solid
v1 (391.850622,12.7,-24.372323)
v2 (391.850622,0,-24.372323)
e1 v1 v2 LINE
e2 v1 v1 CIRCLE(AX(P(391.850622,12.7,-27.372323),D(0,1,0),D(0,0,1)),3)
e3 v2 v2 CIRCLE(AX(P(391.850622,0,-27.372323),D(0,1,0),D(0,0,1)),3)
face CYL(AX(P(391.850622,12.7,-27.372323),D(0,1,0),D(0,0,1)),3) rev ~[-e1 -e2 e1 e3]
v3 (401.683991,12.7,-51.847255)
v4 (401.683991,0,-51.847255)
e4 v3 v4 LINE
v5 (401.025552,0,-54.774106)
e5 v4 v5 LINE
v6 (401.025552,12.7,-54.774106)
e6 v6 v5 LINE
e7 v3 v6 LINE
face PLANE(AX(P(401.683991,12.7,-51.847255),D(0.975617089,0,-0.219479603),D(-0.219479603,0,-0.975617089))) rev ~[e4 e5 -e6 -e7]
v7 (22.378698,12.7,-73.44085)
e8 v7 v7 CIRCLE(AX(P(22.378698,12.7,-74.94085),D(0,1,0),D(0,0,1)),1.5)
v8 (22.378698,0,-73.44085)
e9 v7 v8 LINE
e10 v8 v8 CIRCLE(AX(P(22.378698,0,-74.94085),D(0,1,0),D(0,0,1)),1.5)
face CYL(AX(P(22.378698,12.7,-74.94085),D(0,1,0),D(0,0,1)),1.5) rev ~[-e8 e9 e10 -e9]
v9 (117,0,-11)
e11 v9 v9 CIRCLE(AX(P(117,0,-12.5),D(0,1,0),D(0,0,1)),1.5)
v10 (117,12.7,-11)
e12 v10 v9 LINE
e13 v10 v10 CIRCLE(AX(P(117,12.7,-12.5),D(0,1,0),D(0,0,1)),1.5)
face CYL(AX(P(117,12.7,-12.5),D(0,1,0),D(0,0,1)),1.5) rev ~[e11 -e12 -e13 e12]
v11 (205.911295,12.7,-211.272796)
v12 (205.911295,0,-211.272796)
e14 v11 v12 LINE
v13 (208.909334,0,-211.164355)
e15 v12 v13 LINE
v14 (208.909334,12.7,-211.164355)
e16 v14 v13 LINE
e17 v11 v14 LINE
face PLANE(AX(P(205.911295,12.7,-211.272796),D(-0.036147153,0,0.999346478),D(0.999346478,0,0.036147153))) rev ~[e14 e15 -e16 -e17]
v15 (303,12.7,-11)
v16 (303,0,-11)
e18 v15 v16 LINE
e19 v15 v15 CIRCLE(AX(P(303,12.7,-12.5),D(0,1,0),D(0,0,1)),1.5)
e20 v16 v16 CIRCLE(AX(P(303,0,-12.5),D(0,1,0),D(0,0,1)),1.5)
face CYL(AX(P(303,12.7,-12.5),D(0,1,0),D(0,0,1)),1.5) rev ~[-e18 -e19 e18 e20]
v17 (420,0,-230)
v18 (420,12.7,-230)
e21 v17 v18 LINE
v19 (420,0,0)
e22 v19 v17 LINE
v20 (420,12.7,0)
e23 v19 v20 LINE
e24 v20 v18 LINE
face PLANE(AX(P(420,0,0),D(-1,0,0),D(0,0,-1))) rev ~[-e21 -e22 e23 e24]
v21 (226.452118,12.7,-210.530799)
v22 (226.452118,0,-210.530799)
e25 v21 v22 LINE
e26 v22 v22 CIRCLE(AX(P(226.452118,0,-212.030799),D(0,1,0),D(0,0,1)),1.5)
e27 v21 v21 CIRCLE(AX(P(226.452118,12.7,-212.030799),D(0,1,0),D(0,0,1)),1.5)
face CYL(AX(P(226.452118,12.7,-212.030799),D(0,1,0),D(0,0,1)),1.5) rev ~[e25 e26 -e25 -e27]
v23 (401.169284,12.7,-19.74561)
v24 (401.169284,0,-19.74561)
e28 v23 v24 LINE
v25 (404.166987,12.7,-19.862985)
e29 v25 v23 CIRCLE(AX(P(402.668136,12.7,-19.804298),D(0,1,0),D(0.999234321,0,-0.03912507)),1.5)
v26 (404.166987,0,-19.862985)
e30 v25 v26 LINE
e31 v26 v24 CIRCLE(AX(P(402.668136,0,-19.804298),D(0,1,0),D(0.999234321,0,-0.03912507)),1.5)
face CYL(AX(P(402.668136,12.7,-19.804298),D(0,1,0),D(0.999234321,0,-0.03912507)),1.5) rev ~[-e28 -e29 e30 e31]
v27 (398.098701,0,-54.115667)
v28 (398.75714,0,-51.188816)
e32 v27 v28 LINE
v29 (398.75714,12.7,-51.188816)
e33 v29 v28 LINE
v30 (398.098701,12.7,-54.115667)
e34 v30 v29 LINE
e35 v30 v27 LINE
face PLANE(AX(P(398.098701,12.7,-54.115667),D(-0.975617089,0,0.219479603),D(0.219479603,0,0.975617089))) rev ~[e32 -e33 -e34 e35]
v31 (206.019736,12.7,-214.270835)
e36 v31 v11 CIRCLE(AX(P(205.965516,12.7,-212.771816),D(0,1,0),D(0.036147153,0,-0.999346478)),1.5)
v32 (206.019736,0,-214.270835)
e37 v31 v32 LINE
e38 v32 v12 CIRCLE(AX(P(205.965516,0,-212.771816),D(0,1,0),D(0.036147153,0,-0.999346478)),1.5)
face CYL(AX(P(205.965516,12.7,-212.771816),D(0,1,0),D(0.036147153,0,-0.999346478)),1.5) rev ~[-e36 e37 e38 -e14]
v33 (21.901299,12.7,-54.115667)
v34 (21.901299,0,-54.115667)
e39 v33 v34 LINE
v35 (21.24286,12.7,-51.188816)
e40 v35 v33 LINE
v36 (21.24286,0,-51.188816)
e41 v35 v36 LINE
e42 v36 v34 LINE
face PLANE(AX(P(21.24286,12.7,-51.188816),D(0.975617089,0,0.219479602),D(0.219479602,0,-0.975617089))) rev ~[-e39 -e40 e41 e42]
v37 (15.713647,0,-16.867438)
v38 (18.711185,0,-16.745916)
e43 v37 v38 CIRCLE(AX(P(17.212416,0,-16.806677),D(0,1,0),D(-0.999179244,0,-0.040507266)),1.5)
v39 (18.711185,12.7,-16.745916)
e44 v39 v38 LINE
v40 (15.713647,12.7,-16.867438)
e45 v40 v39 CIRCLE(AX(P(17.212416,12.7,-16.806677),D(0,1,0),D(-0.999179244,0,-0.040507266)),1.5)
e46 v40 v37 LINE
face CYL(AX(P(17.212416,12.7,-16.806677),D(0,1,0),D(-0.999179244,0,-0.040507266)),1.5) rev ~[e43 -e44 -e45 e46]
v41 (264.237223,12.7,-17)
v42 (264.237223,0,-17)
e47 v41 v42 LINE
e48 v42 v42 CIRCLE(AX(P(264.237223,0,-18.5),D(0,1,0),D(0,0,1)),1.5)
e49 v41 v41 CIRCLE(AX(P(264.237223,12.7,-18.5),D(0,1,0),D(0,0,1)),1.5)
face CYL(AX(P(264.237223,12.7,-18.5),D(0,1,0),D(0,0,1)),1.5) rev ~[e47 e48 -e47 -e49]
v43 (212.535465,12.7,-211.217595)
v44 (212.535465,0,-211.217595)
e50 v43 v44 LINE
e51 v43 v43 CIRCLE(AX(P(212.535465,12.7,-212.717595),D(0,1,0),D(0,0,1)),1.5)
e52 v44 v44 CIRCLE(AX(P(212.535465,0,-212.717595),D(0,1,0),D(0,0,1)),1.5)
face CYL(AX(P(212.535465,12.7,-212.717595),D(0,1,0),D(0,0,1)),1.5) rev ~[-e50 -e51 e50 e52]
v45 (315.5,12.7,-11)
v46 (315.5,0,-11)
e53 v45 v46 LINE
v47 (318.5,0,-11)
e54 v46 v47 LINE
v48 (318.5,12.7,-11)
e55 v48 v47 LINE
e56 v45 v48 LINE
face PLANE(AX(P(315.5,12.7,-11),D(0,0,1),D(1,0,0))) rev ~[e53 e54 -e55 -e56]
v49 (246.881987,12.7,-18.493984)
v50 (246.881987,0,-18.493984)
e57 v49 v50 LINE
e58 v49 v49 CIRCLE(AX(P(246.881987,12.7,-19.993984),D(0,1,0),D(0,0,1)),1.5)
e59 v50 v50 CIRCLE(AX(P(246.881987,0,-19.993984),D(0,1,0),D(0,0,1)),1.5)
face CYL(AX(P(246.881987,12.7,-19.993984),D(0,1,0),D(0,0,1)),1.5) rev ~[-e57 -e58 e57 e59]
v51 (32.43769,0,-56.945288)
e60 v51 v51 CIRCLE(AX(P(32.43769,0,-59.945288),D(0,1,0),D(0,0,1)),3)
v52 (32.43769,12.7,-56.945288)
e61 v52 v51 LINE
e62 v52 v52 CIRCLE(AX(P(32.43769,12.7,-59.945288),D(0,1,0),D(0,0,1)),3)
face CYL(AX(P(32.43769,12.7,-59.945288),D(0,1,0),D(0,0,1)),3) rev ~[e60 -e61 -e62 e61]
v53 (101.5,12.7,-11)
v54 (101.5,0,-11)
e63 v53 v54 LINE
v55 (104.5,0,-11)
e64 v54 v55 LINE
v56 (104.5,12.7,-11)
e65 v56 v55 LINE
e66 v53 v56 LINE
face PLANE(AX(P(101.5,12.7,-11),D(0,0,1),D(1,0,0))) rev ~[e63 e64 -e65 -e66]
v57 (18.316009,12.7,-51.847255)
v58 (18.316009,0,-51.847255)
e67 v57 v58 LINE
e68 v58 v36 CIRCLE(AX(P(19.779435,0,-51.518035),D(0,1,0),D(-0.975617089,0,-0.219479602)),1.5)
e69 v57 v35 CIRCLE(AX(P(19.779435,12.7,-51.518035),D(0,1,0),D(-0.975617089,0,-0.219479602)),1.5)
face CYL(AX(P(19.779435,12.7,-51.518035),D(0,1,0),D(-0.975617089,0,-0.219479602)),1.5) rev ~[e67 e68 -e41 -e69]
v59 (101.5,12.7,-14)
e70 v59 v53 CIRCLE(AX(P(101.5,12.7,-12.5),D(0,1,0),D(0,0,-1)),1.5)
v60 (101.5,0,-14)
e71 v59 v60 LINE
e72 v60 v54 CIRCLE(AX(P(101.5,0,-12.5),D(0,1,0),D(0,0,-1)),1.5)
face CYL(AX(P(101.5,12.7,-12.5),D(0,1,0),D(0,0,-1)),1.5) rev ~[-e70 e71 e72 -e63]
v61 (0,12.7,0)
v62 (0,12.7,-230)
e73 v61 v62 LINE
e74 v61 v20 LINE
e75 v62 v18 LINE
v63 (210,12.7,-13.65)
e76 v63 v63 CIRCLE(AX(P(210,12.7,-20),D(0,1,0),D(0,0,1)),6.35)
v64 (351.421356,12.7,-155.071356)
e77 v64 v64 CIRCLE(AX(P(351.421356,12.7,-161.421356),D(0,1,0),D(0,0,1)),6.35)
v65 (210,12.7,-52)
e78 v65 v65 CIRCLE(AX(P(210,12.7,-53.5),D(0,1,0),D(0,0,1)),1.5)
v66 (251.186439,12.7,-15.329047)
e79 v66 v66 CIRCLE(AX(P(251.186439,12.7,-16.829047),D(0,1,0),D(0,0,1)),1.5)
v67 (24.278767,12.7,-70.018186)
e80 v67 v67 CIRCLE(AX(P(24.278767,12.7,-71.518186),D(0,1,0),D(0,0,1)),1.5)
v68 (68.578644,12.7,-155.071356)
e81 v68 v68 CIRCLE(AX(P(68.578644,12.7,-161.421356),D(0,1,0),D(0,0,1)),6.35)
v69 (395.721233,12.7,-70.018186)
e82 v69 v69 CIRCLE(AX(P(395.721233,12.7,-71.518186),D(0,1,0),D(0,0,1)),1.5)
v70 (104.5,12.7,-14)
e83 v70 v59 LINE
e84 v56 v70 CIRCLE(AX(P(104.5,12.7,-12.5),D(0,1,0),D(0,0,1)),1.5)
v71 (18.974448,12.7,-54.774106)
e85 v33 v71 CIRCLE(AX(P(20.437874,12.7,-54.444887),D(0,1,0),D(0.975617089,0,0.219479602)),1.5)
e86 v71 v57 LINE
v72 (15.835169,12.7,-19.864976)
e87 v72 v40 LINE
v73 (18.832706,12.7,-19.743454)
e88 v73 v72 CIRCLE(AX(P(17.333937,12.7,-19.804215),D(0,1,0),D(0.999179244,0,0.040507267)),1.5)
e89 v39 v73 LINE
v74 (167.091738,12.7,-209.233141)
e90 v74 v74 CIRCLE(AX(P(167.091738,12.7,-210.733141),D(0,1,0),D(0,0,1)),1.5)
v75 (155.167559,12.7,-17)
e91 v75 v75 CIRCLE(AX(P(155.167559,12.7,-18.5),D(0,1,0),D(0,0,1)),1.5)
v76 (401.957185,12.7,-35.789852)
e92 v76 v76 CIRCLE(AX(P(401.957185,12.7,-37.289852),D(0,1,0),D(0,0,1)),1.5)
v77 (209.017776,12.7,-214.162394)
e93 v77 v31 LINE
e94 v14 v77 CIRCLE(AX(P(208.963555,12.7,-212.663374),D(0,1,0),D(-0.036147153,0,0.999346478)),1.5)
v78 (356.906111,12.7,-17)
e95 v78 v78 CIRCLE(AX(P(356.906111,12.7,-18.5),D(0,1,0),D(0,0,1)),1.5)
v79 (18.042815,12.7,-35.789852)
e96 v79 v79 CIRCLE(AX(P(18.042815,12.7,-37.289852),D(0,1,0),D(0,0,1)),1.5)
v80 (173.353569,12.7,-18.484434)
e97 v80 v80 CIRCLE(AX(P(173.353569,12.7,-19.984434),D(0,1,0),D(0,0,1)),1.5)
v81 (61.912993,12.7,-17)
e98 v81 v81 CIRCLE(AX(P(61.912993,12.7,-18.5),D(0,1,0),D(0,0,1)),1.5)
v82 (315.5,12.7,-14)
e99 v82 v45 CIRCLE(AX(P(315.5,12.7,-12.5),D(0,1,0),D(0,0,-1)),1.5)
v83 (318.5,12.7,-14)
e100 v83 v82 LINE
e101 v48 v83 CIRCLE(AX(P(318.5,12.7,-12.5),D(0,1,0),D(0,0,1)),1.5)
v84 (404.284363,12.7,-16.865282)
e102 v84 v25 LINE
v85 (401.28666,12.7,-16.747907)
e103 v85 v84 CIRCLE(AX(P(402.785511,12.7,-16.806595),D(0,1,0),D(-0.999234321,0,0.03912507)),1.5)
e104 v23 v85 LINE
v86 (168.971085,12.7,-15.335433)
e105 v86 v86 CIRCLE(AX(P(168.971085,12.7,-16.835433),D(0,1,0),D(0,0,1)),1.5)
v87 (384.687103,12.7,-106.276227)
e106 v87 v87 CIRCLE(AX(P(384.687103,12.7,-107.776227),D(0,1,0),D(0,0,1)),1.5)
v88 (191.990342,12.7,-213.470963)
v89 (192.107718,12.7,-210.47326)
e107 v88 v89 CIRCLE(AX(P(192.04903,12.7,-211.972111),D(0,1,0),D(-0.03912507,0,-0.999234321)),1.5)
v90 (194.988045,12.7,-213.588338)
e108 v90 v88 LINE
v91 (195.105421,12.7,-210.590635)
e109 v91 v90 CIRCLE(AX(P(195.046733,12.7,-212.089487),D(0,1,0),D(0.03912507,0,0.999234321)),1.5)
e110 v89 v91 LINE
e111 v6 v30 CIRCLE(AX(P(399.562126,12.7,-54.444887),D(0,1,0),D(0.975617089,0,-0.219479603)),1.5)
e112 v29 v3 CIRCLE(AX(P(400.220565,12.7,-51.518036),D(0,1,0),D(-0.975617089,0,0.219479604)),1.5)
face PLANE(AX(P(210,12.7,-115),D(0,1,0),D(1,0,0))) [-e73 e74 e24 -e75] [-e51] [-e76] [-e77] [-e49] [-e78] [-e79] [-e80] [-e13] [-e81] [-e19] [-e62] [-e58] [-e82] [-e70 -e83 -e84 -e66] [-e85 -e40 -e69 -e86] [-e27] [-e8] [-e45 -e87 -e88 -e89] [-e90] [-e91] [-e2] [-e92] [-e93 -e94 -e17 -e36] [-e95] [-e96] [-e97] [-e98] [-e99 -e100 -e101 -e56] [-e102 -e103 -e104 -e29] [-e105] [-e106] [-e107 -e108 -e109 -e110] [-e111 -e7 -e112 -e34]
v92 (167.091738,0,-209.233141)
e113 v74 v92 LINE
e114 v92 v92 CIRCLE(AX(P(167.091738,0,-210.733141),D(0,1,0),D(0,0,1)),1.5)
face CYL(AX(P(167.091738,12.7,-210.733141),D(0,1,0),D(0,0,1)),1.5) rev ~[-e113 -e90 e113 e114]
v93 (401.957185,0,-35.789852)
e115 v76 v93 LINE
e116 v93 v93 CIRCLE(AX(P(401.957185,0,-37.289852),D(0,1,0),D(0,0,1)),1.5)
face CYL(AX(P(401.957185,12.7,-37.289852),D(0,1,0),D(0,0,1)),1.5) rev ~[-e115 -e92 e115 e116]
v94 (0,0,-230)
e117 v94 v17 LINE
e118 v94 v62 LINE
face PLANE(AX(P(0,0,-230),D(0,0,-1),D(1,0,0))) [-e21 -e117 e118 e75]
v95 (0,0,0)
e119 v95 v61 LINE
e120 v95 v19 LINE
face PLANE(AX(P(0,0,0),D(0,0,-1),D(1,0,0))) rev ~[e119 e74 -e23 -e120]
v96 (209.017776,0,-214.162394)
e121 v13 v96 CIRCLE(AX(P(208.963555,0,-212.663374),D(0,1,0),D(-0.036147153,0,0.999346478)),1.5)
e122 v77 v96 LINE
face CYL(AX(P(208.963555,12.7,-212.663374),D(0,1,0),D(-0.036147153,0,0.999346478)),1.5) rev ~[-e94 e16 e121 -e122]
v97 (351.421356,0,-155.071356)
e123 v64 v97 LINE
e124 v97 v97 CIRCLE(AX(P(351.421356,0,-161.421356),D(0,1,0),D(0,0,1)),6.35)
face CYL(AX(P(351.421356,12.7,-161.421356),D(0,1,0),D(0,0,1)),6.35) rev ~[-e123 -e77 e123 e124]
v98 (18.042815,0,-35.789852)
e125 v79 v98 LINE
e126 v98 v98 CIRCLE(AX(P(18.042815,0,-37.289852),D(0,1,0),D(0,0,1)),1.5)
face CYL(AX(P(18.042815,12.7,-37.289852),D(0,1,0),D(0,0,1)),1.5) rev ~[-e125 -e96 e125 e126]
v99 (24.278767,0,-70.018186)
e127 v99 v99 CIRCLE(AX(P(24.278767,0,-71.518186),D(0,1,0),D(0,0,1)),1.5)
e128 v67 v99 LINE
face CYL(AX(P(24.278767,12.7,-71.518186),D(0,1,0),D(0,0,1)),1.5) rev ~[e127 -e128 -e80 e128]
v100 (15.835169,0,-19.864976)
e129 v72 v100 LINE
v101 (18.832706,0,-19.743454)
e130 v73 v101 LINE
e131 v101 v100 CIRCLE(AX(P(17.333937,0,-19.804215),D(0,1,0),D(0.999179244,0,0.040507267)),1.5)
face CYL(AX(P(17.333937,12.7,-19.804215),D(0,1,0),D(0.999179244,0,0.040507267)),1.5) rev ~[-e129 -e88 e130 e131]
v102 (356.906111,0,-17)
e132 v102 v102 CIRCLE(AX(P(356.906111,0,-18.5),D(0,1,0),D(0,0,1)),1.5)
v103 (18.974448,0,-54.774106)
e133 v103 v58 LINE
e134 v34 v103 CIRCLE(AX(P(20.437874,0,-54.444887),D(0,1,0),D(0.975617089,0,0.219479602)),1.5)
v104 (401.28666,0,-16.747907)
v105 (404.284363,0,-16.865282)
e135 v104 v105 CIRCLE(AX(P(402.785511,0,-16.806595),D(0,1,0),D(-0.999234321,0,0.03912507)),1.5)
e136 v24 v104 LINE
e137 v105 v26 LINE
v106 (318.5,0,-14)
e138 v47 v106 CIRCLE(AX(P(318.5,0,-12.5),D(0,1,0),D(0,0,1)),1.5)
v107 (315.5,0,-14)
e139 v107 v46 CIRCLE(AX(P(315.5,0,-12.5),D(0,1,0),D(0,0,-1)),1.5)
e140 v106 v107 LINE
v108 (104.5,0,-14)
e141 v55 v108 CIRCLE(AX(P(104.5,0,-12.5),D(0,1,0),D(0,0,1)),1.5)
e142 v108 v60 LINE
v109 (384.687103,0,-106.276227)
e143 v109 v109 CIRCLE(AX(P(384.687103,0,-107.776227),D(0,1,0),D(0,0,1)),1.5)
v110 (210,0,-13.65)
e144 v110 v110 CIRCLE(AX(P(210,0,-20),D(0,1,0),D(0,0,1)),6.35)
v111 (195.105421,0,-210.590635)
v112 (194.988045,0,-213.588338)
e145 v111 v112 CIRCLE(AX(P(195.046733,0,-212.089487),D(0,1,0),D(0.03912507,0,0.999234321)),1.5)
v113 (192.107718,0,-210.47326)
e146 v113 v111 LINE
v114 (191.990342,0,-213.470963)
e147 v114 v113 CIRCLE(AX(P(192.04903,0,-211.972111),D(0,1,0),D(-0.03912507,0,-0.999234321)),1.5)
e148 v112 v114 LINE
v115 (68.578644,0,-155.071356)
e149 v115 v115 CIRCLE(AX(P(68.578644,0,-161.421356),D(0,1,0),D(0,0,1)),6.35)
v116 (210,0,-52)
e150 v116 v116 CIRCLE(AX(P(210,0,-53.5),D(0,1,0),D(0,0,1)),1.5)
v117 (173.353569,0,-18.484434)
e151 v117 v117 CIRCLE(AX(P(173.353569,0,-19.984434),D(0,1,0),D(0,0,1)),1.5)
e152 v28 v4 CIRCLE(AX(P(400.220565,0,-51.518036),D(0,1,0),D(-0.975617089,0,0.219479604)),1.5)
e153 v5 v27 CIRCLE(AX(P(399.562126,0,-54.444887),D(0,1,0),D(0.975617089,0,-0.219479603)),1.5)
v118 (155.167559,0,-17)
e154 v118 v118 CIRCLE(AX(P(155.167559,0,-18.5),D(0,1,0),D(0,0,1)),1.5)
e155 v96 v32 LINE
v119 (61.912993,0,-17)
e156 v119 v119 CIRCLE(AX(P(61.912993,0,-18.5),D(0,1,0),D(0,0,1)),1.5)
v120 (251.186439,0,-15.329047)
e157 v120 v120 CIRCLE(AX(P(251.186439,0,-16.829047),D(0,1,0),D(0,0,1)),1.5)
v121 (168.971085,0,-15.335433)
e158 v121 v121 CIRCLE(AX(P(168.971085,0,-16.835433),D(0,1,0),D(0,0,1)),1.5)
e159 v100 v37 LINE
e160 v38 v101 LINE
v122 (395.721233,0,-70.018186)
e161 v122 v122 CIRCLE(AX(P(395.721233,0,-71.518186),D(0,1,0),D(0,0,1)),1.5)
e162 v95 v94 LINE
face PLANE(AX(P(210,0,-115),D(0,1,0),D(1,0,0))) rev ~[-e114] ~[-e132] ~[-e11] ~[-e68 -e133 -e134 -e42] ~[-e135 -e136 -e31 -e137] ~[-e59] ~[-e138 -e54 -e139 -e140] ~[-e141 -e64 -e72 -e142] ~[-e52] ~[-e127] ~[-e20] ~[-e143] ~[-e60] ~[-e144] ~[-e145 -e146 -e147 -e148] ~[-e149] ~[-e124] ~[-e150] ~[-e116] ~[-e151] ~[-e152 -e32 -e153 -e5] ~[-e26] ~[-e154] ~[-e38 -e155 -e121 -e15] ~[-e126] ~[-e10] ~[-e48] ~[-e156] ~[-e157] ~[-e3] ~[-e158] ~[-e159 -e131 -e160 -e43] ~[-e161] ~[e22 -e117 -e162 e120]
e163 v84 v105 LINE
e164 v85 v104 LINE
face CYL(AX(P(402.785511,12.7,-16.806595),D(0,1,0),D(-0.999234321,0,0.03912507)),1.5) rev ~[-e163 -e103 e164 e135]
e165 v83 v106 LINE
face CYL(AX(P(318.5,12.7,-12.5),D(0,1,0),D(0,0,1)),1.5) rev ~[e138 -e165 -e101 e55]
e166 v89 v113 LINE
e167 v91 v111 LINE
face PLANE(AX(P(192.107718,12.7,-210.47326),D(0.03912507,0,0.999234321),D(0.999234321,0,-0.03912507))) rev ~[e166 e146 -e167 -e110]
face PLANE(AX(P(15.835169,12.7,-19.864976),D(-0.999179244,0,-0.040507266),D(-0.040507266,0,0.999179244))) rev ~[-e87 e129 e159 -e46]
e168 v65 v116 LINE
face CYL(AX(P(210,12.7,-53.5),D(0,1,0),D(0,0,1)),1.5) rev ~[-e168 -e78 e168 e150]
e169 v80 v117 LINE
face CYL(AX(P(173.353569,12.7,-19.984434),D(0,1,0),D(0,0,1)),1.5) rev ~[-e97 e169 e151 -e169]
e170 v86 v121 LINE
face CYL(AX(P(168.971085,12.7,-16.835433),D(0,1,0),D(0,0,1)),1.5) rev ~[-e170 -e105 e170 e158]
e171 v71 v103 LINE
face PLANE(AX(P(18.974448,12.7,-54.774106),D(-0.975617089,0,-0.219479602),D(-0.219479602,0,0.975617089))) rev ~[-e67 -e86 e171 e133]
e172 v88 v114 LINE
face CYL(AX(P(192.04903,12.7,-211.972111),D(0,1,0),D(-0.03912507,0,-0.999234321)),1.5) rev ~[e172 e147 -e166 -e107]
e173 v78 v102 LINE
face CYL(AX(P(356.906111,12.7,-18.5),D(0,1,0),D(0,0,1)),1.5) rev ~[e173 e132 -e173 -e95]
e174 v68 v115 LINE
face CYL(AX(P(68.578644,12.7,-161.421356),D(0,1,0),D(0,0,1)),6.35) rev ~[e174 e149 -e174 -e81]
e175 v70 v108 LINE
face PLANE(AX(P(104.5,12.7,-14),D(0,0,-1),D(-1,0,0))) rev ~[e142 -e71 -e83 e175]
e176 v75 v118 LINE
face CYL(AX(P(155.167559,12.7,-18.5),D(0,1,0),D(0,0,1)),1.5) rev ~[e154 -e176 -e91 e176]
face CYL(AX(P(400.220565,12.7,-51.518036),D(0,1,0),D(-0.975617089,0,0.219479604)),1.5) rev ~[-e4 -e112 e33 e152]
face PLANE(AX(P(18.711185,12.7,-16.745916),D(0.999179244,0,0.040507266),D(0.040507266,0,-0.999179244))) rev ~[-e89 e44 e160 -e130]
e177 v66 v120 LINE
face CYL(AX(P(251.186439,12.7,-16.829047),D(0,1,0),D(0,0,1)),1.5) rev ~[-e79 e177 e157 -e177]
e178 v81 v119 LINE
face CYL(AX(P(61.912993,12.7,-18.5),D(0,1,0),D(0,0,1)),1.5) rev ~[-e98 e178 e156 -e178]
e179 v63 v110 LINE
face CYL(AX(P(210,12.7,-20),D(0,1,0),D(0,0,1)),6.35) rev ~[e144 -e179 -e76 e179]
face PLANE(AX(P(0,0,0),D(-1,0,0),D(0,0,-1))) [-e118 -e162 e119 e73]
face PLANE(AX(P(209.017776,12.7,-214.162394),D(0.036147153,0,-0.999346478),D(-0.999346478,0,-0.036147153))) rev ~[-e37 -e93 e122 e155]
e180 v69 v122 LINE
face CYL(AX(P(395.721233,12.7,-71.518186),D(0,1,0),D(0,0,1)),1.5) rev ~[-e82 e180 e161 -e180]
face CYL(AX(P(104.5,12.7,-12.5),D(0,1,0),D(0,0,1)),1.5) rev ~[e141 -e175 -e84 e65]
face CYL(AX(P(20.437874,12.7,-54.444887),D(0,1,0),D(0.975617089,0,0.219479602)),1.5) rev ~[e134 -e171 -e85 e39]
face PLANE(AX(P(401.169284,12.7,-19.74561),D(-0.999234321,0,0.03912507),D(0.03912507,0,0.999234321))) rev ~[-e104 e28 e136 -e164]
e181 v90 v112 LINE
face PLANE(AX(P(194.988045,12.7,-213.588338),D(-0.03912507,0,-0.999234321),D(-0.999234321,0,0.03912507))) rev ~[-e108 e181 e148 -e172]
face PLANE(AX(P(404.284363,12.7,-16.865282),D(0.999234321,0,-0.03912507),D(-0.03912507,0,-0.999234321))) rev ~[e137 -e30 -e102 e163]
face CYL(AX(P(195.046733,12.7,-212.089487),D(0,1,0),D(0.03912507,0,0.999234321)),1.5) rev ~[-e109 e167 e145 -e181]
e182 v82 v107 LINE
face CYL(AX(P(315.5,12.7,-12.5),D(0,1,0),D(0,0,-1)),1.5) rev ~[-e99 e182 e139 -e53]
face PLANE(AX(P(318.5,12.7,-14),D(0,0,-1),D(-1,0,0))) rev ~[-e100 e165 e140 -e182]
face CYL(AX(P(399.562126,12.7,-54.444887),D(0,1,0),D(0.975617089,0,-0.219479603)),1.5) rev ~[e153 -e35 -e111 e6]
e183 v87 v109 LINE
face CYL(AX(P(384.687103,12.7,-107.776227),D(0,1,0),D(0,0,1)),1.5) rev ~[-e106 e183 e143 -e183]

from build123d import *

# Parameters (mm, degrees)
SKETCH1_W           = 420
SKETCH1_H           = 230
BOSS_EXTRUDE1_DEPTH = 12.7
SKETCH7_R           = 6.35
SKETCH7_R_2         = 1.5
SKETCH7_R_3         = 3
CUT_EXTRUDE1_DEPTH  = 12.7


with BuildPart() as part:
    # Sketch1 → Boss-Extrude1 (new body)
    with BuildSketch(Plane(origin=(0, 0, 0), x_dir=(1, 0, 0), z_dir=(0, 1, 0))):
        with Locations((210, 115)):
            Rectangle(SKETCH1_W, SKETCH1_H)
    extrude(amount=BOSS_EXTRUDE1_DEPTH)

    # Sketch7 → Cut-Extrude1 (cut)
    with BuildSketch(Plane(origin=(196.460458651, 12.7, -62.603037437), x_dir=(0.090258341, 0, 0.995918386), z_dir=(0, 1, 0))):
        with BuildLine():
            Line((62.136725244, 113.896063379), (62.407500266, 116.883818538))
            ThreePointArc((62.407500266, 116.883818538), (61.049010198, 118.513083628), (59.419745108, 117.15459356))
            Line((59.419745108, 117.15459356), (59.148970086, 114.166838401))
            ThreePointArc((59.148970086, 114.166838401), (60.507460154, 112.537573311), (62.136725244, 113.896063379))
        make_face()
        with BuildLine():
            Line((40.104460202, -95.971941083), (39.83368518, -98.959696242))
            ThreePointArc((39.83368518, -98.959696242), (41.192175248, -100.588961332), (42.821440338, -99.230471264))
            Line((42.821440338, -99.230471264), (43.09221536, -96.242716105))
            ThreePointArc((43.09221536, -96.242716105), (41.733725292, -94.613451015), (40.104460202, -95.971941083))
        make_face()
        with BuildLine():
            Line((26.652261004, 200.049176763), (29.626595588, 200.44075534))
            ThreePointArc((29.626595588, 200.44075534), (30.917973591, 202.12371192), (29.235017011, 203.415089924))
            Line((29.235017011, 203.415089924), (26.260682427, 203.023511347))
            ThreePointArc((26.260682427, 203.023511347), (24.969304423, 201.340554767), (26.652261004, 200.049176763))
        make_face()
        with BuildLine():
            Line((-149.807347164, 26.185559118), (-150.185944072, 23.209544269))
            ThreePointArc((-150.185944072, 23.209544269), (-148.887235101, 21.532238391), (-147.209929223, 22.830947362))
            Line((-147.209929223, 22.830947362), (-146.831332315, 25.806962211))
            ThreePointArc((-146.831332315, 25.806962211), (-148.130041286, 27.484268089), (-149.807347164, 26.185559118))
        make_face()
        with BuildLine():
            Line((26.260682427, -183.745513941), (29.235017011, -184.137092518))
            ThreePointArc((29.235017011, -184.137092518), (30.917973591, -182.845714514), (29.626595588, -181.162757934))
            Line((29.626595588, -181.162757934), (26.652261004, -180.771179357))
            ThreePointArc((26.652261004, -180.771179357), (24.969304423, -182.062557361), (26.260682427, -183.745513941))
        make_face()
        with BuildLine():
            Line((61.159179013, 200.00504307), (64.155240602, 199.851371503))
            ThreePointArc((64.155240602, 199.851371503), (65.73010718, 201.272566515), (64.308912169, 202.847433093))
            Line((64.308912169, 202.847433093), (61.312850579, 203.001104659))
            ThreePointArc((61.312850579, 203.001104659), (59.737984001, 201.579909648), (61.159179013, 200.00504307))
        make_face()
        with BuildLine():
            Line((-150.501934623, 12.161279271), (-150.655606189, 9.165217681))
            ThreePointArc((-150.655606189, 9.165217681), (-149.234411177, 7.590351103), (-147.659544599, 9.011546115))
            Line((-147.659544599, 9.011546115), (-147.505873033, 12.007607705))
            ThreePointArc((-147.505873033, 12.007607705), (-148.927068045, 13.582474283), (-150.501934623, 12.161279271))
        make_face()
        with BuildLine():
            Line((-8.222616285, -177.468207688), (-5.367140889, -178.388131742))
            ThreePointArc((-5.367140889, -178.388131742), (-3.479441164, -177.420356071), (-4.447216835, -175.532656346))
            Line((-4.447216835, -175.532656346), (-7.302692231, -174.612732292))
            ThreePointArc((-7.302692231, -174.612732292), (-9.190391955, -175.580507963), (-8.222616285, -177.468207688))
        make_face()
        with Locations(Location((43.651204827, 9.638998703, 0), (0, 0, 354.82153059))):  # turned: the seam where the file's is
            Circle(SKETCH7_R)
        with Locations(Location((-109.957381, -118.440673222, 0), (0, 0, 354.82153059))):  # turned: the seam where the file's is
            Circle(SKETCH7_R)
        with Locations(Location((43.099653048, -31.508080441, 0), (0, 0, 354.82153059))):  # turned: the seam where the file's is
            Circle(SKETCH7_R_2)
        with Locations(Location((9.106186641, -179.974138285, 0), (0, 0, 354.82153059))):  # turned: the seam where the file's is
            Circle(SKETCH7_R_2)
        with Locations(Location((42.72656704, -83.658348767, 0), (0, 0, 354.82153059))):  # turned: the seam where the file's is
            Circle(SKETCH7_R_2)
        with Locations(Location((59.514618406, 101.582471063, 0), (0, 0, 354.82153059))):  # turned: the seam where the file's is
            Circle(SKETCH7_R_2)
        with Locations(Location((9.106186641, 199.252135691, 0), (0, 0, 354.82153059))):  # turned: the seam where the file's is
            Circle(SKETCH7_R_2)
        with Locations(Location((-146.11085778, 43.356347284, 0), (0, 0, 354.82153059))):  # turned: the seam where the file's is
            Circle(SKETCH7_R_2)
        with Locations(Location((46.986103661, 46.369904384, 0), (0, 0, 354.82153059))):  # turned: the seam where the file's is
            Circle(SKETCH7_R_2)
        with Locations(Location((31.778994905, -137.978961535, 0), (0, 0, 354.82153059))):  # turned: the seam where the file's is
            Circle(SKETCH7_R_2)
        with Locations(Location((40.195997242, -45.105025216, 0), (0, 0, 354.82153059))):  # turned: the seam where the file's is
            Circle(SKETCH7_R_2)
        with Locations(Location((50.040444185, 63.519459099, 0), (0, 0, 354.82153059))):  # turned: the seam where the file's is
            Circle(SKETCH7_R_2)
        with Locations(Location((58.404584222, 155.810108196, 0), (0, 0, 354.82153059))):  # turned: the seam where the file's is
            Circle(SKETCH7_R_2)
        with Locations(Location((10.28793889, 12.662653116, 0), (0, 0, 354.82153059))):  # turned: the seam where the file's is
            Circle(SKETCH7_R_2)
        with Locations(Location((40.359061234, -26.859260892, 0), (0, 0, 354.82153059))):  # turned: the seam where the file's is
            Circle(SKETCH7_R_2)
        with Locations(Location((50.526634497, 50.371125536, 0), (0, 0, 354.82153059))):  # turned: the seam where the file's is
            Circle(SKETCH7_R_2)
        with Locations(Location((-84.428467098, 163.24758453, 0), (0, 0, 354.82153059))):  # turned: the seam where the file's is
            Circle(SKETCH7_R)
        with Locations(Location((-27.999784998, 191.535633244, 0), (0, 0, 354.82153059))):  # turned: the seam where the file's is
            Circle(SKETCH7_R_2)
        with Locations(Location((-150.176265572, -15.878871876, 0), (0, 0, 354.82153059))):  # turned: the seam where the file's is
            Circle(SKETCH7_R_2)
        with Locations(Location((-27.999784998, -172.257635837, 0), (0, 0, 354.82153059))):  # turned: the seam where the file's is
            Circle(SKETCH7_R_2)
        with Locations(Location((-12.157521123, -163.593175294, 0), (0, 0, 354.82153059))):  # turned: the seam where the file's is
            Circle(SKETCH7_R_3)
        with Locations(Location((52.722508699, 191.41279067, 0), (0, 0, 354.82153059))):  # turned: the seam where the file's is
            Circle(SKETCH7_R_3)
        with Locations(Location((-24.419594065, -170.674246341, 0), (0, 0, 354.82153059))):  # turned: the seam where the file's is
            Circle(SKETCH7_R_2)
        with Locations(Location((-148.050944539, 29.558484854, 0), (0, 0, 354.82153059))):  # turned: the seam where the file's is
            Circle(SKETCH7_R_2)
        with Locations(Location((43.757660715, 202.373242332, 0), (0, 0, 354.82153059))):  # turned: the seam where the file's is
            Circle(SKETCH7_R_2)
    extrude(amount=-CUT_EXTRUDE1_DEPTH, mode=Mode.SUBTRACT)


solid = part.part
